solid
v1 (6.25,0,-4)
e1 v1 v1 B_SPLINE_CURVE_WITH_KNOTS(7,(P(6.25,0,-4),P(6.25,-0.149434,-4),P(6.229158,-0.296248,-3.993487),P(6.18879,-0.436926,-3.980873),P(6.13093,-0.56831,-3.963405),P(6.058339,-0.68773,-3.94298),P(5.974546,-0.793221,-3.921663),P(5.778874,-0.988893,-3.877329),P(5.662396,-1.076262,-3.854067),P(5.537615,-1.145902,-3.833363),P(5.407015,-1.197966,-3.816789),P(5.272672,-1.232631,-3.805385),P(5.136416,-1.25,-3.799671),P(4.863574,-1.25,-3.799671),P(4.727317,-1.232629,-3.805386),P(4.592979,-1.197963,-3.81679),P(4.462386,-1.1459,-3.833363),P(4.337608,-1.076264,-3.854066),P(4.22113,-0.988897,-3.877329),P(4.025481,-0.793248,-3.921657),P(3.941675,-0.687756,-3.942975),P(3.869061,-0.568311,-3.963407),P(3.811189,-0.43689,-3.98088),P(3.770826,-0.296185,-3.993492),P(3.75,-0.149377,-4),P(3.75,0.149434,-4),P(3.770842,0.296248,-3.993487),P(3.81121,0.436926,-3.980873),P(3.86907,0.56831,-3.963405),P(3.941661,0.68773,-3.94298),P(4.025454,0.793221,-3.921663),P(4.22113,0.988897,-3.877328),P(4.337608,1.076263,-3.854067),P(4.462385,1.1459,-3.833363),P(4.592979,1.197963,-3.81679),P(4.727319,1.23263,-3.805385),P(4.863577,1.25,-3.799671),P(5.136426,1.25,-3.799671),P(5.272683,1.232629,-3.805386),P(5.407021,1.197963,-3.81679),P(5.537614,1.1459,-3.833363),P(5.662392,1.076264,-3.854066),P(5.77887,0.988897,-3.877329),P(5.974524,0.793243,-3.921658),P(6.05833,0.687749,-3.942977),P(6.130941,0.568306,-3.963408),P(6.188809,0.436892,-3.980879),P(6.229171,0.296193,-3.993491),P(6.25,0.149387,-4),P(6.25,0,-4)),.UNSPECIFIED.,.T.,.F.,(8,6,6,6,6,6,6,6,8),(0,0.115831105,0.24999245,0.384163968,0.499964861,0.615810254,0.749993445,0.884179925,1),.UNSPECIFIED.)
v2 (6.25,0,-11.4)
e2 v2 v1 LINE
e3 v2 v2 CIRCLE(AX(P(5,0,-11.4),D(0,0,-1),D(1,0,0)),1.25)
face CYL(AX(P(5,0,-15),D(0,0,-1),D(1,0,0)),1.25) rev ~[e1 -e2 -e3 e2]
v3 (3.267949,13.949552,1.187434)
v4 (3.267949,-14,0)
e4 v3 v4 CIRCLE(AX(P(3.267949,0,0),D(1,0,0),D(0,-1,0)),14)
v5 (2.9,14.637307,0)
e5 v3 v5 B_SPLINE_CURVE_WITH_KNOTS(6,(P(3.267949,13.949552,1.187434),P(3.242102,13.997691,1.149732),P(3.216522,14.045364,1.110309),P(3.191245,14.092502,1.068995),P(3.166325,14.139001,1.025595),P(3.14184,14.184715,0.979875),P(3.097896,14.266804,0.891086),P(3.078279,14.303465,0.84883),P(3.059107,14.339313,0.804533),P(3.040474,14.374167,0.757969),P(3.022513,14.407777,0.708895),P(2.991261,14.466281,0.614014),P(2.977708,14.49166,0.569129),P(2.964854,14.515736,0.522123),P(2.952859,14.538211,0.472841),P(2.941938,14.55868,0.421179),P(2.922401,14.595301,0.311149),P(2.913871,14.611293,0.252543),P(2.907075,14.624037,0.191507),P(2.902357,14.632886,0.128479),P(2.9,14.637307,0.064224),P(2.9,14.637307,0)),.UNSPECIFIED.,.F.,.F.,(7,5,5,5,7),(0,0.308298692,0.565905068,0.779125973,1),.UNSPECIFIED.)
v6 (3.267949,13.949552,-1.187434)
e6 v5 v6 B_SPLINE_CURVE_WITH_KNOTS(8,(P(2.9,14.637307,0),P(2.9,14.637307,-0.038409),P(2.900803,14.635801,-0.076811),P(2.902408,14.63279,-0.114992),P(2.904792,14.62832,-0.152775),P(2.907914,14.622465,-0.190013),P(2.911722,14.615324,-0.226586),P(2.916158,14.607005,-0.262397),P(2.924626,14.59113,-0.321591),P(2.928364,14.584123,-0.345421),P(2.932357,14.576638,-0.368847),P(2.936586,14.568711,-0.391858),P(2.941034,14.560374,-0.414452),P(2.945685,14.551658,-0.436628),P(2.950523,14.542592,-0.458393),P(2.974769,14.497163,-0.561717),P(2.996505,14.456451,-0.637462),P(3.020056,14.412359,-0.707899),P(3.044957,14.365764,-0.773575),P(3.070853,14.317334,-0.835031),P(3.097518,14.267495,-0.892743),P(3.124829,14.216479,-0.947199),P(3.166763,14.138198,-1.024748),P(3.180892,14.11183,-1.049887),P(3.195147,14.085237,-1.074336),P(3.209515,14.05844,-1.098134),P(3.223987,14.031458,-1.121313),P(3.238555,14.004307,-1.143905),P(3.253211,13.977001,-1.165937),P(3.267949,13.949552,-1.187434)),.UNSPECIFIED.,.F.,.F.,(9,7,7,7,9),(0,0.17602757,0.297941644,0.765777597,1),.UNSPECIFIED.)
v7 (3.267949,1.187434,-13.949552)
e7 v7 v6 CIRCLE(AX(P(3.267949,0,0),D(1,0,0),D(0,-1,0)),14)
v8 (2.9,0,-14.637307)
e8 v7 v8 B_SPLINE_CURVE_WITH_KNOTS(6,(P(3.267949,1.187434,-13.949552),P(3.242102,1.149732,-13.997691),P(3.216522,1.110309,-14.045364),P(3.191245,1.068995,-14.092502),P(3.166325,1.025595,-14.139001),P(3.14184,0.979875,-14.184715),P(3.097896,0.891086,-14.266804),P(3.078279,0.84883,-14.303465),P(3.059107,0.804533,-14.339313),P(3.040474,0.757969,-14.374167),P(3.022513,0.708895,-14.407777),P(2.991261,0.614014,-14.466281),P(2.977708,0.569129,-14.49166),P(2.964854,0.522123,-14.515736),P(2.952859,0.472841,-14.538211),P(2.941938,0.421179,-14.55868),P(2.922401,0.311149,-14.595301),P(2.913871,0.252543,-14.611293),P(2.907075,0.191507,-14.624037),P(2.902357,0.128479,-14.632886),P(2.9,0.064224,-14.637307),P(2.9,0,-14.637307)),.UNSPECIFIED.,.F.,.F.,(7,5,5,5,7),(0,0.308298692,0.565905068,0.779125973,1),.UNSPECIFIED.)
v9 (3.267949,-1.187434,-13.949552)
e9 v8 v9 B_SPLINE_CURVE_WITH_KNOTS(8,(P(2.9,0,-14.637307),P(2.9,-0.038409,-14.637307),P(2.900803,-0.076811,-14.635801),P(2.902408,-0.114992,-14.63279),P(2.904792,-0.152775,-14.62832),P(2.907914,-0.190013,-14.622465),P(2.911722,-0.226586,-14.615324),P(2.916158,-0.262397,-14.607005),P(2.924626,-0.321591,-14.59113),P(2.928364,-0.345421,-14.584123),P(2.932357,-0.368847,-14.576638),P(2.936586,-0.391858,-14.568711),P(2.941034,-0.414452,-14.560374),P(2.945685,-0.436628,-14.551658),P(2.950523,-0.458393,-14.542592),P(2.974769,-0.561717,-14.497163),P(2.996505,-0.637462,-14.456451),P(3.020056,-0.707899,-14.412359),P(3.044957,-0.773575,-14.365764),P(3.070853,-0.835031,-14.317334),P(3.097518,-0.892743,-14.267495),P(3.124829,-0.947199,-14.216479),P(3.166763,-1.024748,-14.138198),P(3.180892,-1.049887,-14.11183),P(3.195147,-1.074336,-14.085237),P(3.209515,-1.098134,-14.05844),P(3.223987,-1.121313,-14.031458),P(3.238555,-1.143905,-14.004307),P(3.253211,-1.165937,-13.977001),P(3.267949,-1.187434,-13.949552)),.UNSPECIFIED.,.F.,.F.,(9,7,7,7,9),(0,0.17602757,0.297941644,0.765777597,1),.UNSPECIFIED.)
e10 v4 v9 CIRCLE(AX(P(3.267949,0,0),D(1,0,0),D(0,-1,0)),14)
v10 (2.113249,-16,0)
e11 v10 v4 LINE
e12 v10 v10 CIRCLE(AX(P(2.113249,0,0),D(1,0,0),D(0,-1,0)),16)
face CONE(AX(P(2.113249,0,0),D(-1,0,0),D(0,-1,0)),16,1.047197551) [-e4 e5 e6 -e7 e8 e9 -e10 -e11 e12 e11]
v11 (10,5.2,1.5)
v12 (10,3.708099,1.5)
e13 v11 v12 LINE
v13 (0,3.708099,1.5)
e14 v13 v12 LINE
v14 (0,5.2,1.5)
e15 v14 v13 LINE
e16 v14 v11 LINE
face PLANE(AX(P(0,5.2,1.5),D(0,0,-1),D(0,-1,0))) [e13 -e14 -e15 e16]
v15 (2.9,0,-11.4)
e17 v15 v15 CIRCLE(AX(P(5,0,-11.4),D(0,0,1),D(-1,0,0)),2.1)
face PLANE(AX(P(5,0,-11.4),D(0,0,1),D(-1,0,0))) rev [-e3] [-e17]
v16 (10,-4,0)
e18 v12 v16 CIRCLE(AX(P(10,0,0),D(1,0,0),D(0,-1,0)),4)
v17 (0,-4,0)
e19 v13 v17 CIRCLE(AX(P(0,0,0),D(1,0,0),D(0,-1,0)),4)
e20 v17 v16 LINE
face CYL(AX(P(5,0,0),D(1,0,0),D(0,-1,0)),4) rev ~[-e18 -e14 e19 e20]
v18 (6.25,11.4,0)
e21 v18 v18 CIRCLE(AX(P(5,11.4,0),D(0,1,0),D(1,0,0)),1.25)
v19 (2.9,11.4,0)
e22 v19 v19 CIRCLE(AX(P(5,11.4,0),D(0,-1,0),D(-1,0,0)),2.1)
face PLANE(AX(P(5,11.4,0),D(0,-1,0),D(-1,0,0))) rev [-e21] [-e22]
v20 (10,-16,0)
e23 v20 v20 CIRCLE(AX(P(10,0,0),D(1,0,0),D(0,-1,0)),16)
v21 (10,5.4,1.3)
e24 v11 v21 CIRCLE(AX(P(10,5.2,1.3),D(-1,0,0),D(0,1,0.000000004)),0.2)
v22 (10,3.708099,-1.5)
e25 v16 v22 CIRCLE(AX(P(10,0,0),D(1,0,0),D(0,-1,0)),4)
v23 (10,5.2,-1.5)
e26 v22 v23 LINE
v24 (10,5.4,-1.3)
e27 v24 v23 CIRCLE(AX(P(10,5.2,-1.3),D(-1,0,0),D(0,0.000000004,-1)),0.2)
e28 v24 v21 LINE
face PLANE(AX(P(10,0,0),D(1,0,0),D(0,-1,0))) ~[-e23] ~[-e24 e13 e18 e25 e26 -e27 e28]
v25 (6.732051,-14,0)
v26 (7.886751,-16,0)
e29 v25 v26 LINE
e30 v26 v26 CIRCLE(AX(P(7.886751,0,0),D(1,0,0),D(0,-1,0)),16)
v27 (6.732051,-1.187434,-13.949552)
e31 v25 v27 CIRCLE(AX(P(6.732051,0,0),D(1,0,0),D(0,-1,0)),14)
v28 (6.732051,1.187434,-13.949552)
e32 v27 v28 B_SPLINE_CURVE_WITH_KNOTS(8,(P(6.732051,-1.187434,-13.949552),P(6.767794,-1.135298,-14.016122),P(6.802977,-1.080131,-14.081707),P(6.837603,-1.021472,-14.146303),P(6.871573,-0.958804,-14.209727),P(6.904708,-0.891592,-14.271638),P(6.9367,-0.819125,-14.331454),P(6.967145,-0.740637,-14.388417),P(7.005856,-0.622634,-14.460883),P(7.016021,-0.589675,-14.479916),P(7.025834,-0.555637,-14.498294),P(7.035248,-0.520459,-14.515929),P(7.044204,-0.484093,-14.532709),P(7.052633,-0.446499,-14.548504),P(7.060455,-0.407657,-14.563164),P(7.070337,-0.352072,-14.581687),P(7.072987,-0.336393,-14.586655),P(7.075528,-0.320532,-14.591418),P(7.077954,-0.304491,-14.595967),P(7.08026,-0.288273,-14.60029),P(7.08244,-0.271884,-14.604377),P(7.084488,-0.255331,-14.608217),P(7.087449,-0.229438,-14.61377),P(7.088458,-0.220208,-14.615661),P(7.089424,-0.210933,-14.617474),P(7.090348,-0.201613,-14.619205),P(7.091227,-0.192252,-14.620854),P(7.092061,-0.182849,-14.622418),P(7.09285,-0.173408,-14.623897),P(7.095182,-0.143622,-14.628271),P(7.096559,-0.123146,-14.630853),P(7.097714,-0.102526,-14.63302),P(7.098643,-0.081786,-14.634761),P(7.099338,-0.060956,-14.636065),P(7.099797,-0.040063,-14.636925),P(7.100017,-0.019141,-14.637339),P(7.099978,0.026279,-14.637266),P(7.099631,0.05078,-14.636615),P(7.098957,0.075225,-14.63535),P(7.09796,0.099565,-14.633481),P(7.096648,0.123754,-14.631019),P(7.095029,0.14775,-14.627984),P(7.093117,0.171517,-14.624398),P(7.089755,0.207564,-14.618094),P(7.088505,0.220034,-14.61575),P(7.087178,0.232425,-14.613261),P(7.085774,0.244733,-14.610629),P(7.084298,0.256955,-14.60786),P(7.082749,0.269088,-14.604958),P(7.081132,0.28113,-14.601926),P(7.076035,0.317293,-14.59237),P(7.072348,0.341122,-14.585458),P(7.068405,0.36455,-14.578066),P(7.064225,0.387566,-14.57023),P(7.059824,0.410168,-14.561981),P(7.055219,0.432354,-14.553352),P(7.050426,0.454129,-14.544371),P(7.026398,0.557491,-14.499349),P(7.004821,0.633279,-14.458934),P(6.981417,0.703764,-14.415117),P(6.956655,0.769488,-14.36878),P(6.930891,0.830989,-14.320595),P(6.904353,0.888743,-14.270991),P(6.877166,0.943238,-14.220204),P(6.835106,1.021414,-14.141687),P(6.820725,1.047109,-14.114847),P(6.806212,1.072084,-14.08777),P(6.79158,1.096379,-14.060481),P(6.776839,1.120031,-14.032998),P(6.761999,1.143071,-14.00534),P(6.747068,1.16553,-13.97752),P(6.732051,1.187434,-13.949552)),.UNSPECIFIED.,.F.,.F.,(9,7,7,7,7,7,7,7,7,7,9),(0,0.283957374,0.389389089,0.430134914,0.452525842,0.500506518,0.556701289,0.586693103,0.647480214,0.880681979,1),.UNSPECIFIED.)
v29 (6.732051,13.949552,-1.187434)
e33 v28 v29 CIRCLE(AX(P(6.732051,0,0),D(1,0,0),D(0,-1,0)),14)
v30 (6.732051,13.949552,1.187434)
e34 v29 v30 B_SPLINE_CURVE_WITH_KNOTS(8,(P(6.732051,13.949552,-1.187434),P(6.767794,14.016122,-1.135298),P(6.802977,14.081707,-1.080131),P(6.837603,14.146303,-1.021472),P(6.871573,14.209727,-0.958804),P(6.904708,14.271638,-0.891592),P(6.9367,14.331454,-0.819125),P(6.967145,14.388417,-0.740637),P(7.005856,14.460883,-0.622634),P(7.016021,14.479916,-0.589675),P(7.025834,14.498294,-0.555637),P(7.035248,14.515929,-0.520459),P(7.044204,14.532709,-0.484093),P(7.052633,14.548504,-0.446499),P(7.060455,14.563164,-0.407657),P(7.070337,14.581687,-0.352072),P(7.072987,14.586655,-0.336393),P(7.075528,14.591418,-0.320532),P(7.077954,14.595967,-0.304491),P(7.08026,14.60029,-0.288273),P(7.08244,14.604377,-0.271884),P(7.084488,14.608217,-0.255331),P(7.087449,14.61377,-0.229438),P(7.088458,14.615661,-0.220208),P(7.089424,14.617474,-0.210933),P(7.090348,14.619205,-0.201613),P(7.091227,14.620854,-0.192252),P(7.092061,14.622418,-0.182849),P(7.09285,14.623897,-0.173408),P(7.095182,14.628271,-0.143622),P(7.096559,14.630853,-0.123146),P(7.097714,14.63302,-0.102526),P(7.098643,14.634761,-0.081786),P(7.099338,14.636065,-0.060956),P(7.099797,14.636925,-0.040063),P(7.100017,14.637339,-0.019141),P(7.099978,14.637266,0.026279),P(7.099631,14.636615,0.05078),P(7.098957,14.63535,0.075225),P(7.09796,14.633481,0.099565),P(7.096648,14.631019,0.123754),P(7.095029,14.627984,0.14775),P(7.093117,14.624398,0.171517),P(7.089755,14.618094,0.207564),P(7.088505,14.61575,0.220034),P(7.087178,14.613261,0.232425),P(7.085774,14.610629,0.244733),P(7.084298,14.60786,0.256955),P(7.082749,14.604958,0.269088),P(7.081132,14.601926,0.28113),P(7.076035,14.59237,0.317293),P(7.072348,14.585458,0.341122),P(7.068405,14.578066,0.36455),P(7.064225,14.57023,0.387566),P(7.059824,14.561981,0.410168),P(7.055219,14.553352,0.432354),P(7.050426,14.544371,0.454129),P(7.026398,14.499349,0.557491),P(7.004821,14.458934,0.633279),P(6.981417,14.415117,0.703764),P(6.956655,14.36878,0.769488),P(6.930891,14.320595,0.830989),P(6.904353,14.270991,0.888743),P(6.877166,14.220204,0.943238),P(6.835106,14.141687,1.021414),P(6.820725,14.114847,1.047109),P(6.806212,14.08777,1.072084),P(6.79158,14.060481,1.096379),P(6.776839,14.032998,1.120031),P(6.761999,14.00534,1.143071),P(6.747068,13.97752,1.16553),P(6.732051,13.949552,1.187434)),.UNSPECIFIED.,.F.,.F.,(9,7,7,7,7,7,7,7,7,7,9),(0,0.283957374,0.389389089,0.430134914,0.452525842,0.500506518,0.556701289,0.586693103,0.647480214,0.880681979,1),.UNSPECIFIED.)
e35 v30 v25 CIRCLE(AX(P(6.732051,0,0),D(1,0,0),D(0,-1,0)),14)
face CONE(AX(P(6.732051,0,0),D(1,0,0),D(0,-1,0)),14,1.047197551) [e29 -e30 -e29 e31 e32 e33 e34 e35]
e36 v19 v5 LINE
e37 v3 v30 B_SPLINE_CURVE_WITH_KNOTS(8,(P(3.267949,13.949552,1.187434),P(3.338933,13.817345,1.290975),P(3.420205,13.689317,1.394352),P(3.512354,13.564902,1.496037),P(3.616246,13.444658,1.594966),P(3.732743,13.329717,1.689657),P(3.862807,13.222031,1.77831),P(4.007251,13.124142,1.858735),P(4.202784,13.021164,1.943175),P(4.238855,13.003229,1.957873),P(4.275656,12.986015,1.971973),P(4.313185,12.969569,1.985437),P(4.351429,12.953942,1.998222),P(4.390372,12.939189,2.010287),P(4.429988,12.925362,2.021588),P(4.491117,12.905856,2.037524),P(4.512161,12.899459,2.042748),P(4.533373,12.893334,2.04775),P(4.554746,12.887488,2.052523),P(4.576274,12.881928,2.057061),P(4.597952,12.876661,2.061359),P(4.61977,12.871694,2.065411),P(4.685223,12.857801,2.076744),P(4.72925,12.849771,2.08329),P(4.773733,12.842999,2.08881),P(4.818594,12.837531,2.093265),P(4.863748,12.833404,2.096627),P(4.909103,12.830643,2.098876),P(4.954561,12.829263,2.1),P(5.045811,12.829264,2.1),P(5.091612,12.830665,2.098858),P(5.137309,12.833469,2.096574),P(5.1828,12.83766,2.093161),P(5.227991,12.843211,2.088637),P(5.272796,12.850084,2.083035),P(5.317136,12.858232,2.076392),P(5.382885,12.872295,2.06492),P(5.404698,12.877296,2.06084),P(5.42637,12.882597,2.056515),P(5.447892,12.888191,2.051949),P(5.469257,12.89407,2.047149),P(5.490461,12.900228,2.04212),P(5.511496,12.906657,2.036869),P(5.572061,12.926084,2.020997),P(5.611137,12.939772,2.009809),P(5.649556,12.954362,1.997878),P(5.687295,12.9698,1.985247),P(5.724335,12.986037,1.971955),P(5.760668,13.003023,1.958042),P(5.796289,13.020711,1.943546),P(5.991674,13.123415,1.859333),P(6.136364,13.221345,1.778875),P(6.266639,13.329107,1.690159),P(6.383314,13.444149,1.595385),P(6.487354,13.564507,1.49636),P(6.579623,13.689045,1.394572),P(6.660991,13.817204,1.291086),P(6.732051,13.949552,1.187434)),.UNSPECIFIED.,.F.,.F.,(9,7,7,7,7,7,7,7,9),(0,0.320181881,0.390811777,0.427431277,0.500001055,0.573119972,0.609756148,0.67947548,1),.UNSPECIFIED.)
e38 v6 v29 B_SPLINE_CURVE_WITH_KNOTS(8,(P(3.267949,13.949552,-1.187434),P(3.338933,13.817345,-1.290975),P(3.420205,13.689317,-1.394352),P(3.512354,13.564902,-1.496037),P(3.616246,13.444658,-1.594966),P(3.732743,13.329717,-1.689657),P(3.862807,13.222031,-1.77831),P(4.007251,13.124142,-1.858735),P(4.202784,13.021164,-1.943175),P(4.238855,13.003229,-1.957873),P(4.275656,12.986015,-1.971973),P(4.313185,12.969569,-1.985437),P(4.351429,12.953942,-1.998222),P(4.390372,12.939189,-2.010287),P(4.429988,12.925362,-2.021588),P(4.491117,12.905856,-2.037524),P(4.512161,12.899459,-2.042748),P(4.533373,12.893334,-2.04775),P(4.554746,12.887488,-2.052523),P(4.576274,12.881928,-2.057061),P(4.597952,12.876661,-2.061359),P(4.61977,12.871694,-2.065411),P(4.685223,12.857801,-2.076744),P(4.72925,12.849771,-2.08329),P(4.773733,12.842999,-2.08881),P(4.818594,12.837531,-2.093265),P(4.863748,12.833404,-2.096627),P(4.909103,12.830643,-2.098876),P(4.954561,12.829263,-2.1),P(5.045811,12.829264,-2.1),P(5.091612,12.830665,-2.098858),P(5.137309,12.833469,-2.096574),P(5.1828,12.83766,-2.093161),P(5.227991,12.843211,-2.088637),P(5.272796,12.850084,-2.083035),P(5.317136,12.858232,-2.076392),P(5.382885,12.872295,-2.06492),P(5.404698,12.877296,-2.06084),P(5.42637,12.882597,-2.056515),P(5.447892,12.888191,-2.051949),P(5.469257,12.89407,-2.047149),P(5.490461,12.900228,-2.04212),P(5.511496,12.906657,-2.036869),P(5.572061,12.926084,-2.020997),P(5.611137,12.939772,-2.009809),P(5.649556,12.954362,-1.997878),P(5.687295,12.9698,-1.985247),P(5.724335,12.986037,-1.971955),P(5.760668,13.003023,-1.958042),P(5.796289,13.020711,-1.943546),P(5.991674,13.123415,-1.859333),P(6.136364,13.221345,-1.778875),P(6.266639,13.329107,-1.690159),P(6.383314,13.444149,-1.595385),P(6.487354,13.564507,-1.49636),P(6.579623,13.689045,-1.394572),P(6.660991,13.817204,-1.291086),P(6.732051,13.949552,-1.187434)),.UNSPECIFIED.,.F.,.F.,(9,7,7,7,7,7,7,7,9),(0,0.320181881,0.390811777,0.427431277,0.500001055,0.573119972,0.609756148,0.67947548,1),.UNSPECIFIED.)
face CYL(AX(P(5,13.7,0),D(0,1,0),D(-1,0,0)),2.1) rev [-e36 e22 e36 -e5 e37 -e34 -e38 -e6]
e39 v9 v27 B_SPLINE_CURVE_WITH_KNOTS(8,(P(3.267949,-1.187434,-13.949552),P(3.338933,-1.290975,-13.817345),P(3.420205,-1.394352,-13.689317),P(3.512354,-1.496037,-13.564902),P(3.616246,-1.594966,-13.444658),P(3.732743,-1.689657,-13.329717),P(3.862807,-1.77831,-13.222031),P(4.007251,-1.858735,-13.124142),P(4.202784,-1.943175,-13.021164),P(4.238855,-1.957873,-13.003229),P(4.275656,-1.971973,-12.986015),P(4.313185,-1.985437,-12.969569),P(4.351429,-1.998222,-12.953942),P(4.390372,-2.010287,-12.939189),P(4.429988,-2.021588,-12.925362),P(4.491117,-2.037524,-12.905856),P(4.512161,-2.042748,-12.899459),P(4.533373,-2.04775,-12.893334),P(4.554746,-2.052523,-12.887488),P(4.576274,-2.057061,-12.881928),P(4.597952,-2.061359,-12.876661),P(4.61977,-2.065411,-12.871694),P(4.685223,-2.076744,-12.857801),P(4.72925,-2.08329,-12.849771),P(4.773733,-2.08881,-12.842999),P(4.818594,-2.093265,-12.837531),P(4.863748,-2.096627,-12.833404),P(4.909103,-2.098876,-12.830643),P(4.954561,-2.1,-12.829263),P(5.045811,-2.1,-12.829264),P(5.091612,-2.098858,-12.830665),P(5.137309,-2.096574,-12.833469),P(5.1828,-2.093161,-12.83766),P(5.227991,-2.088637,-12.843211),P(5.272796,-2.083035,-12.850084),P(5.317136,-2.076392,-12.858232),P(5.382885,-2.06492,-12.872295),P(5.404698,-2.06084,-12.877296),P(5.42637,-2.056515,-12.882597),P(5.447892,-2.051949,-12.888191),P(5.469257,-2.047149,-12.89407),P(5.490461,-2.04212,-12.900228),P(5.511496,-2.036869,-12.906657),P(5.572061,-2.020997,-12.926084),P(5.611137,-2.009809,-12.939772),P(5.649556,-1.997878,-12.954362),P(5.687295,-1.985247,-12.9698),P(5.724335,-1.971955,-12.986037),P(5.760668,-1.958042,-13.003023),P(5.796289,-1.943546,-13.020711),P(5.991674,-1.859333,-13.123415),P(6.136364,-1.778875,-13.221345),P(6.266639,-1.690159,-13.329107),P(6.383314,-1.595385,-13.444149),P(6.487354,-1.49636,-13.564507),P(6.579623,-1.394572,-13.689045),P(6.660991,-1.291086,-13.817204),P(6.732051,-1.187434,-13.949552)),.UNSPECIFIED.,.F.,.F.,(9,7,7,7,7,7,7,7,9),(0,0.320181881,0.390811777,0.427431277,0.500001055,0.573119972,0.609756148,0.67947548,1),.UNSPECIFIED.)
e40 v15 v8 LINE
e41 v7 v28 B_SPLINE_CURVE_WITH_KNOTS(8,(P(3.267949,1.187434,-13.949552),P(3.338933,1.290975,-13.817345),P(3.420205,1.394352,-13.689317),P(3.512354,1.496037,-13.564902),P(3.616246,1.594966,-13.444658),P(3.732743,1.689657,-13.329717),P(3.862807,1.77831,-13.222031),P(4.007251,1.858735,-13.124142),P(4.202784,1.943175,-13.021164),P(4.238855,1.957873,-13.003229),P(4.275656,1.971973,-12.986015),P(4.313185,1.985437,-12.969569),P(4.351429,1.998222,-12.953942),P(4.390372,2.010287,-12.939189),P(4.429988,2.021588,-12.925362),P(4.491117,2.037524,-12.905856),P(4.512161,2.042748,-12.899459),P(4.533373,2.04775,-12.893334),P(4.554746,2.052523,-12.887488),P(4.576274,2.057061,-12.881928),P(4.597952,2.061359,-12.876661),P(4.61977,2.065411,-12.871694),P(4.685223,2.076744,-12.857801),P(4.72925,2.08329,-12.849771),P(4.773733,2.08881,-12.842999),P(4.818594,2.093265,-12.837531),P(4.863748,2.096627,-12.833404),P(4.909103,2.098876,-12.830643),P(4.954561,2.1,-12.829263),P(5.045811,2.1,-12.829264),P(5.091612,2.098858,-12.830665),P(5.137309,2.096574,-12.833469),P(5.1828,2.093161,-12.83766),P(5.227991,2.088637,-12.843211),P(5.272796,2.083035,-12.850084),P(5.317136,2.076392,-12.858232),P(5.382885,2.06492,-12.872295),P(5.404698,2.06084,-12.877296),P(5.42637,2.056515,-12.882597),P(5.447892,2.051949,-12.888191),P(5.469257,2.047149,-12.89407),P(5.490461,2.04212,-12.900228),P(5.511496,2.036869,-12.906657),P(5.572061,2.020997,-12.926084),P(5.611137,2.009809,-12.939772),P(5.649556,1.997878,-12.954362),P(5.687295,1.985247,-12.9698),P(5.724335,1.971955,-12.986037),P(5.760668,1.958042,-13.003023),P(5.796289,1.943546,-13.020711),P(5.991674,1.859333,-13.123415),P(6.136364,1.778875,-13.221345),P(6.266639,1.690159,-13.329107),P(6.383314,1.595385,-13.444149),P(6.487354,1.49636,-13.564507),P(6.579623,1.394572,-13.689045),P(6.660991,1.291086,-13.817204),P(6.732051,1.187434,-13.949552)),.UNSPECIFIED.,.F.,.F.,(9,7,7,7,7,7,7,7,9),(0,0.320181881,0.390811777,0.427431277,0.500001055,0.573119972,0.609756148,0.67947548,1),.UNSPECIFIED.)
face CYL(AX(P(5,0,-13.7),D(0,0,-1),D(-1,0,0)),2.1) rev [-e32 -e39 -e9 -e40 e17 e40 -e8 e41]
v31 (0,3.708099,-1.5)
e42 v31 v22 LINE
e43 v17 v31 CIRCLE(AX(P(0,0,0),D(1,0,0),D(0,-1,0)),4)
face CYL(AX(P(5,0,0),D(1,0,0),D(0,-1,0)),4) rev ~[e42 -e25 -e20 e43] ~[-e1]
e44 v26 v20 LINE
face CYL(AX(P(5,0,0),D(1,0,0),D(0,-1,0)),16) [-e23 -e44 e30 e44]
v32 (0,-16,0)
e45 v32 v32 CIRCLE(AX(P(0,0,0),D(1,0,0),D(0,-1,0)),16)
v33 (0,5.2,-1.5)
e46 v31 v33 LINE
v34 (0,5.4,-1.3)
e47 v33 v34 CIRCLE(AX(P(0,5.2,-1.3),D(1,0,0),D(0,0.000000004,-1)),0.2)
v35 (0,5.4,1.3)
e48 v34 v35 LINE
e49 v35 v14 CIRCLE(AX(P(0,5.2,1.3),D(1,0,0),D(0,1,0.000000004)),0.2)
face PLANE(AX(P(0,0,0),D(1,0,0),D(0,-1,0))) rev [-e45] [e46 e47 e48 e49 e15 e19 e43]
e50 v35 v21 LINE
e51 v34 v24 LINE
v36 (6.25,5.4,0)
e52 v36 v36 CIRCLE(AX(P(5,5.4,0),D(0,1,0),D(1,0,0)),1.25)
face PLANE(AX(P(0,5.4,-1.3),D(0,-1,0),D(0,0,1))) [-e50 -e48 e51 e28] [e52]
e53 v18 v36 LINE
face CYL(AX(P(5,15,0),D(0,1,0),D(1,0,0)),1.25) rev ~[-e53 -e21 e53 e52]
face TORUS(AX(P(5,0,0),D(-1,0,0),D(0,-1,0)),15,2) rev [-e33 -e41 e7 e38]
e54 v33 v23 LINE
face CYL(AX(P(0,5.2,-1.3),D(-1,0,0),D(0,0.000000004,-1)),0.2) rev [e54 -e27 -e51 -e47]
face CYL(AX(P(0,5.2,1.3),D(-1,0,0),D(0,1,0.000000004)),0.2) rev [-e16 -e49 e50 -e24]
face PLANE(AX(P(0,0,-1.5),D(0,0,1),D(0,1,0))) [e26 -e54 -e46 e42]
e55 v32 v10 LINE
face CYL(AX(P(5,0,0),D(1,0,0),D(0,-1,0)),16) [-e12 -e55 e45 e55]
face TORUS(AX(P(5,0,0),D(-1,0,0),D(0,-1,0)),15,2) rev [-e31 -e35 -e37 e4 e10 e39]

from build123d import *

# Parameters (mm, degrees)
SKETCH1_W           = 10
SKETCH1_H           = 12
SKETCH2_W           = 2.1
SKETCH2_H           = 4.6
TAPPED_HOLE1_REACH  = 38.29
TAPPED_HOLE1_BORE_R = 1.25
CIRPATTERN1_COUNT   = 2
CIRPATTERN1_ANGLE   = 90
CUT_EXTRUDE1_DEPTH  = 25.738633924


with BuildPart() as part:
    # Sketch1 → Revolve1 (revolve)
    with BuildSketch(Plane.XY, mode=Mode.PRIVATE) as revolve1_sk:
        with Locations((5, 10)):
            Rectangle(SKETCH1_W, SKETCH1_H)
    revolve(revolve1_sk.sketch.rotate(Axis((0, 0, 0), (1, 0, 0)), 180), axis=Axis((0, 0, 0), (1, 0, 0)))

    # Sketch2 → Cut-Revolve1 (revolve, cut)
    with BuildSketch(Plane.XY, mode=Mode.PRIVATE) as cut_revolve1_sk:
        with Locations((6.05, 13.7)):
            Rectangle(SKETCH2_W, SKETCH2_H)
    cut_revolve1 = revolve(cut_revolve1_sk.sketch.rotate(Axis((5, 16, 0), (0, -1, 0)), 180), axis=Axis((5, 16, 0), (0, -1, 0)), mode=Mode.SUBTRACT)

    # Tapped Hole1 bore → Tapped Hole1 (cut, up to next)
    with BuildSketch(Plane(origin=(0, 15, 0), x_dir=(1, 0, 0), z_dir=(0, 1, 0)), mode=Mode.PRIVATE) as tapped_hole1_sk1:
        with Locations((5, 0)):
            Circle(TAPPED_HOLE1_BORE_R)
    tapped_hole1_tool1 = extrude(tapped_hole1_sk1.sketch, amount=-TAPPED_HOLE1_REACH, mode=Mode.PRIVATE) & part.part
    tapped_hole1 = tapped_hole1_tool1.solids().sort_by_distance((5, 15, 0))[0]
    add(tapped_hole1, mode=Mode.SUBTRACT)

    # CirPattern1: Cut-Revolve1, Tapped Hole1 ×2 about axis
    cirpattern1_axis = Axis((0, 0, 0), (-1, 0, 0))
    add([cut_revolve1.rotate(cirpattern1_axis, i * CIRPATTERN1_ANGLE / (CIRPATTERN1_COUNT - 1)) for i in range(1, CIRPATTERN1_COUNT)], mode=Mode.SUBTRACT)
    add([tapped_hole1.rotate(cirpattern1_axis, i * CIRPATTERN1_ANGLE / (CIRPATTERN1_COUNT - 1)) for i in range(1, CIRPATTERN1_COUNT)], mode=Mode.SUBTRACT)

    # Sketch5 → Cut-Extrude1 (cut, through all)
    with BuildSketch(Plane(origin=(0, 0, 0), x_dir=(0, 0, -1), z_dir=(1, 0, 0))):
        with BuildLine():
            Line((-1.5, 0), (1.5, 0))
            Line((1.5, 0), (1.5, 5.2))
            ThreePointArc((1.5, 5.2), (1.441421356, 5.341421356), (1.3, 5.4))
            Line((1.3, 5.4), (-1.3, 5.4))
            ThreePointArc((-1.3, 5.4), (-1.441421356, 5.341421356), (-1.5, 5.2))
            Line((-1.5, 5.2), (-1.5, 0))
        make_face()
    extrude(amount=CUT_EXTRUDE1_DEPTH, mode=Mode.SUBTRACT)

    # Sketch7 → Cut-Revolve3 (revolve, cut)
    with BuildSketch(Plane.XY, mode=Mode.PRIVATE) as cut_revolve3_sk:
        with BuildLine():
            Line((2.113248654, 16), (3.267949192, 14))
            ThreePointArc((3.267949192, 14), (5, 13), (6.732050808, 14))
            Line((6.732050808, 14), (7.886751346, 16))
            Line((7.886751346, 16), (2.113248654, 16))
        make_face()
    revolve(cut_revolve3_sk.sketch.rotate(Axis((0, 0, 0), (1, 0, 0)), 180), axis=Axis((0, 0, 0), (1, 0, 0)), mode=Mode.SUBTRACT)


solid = part.part
